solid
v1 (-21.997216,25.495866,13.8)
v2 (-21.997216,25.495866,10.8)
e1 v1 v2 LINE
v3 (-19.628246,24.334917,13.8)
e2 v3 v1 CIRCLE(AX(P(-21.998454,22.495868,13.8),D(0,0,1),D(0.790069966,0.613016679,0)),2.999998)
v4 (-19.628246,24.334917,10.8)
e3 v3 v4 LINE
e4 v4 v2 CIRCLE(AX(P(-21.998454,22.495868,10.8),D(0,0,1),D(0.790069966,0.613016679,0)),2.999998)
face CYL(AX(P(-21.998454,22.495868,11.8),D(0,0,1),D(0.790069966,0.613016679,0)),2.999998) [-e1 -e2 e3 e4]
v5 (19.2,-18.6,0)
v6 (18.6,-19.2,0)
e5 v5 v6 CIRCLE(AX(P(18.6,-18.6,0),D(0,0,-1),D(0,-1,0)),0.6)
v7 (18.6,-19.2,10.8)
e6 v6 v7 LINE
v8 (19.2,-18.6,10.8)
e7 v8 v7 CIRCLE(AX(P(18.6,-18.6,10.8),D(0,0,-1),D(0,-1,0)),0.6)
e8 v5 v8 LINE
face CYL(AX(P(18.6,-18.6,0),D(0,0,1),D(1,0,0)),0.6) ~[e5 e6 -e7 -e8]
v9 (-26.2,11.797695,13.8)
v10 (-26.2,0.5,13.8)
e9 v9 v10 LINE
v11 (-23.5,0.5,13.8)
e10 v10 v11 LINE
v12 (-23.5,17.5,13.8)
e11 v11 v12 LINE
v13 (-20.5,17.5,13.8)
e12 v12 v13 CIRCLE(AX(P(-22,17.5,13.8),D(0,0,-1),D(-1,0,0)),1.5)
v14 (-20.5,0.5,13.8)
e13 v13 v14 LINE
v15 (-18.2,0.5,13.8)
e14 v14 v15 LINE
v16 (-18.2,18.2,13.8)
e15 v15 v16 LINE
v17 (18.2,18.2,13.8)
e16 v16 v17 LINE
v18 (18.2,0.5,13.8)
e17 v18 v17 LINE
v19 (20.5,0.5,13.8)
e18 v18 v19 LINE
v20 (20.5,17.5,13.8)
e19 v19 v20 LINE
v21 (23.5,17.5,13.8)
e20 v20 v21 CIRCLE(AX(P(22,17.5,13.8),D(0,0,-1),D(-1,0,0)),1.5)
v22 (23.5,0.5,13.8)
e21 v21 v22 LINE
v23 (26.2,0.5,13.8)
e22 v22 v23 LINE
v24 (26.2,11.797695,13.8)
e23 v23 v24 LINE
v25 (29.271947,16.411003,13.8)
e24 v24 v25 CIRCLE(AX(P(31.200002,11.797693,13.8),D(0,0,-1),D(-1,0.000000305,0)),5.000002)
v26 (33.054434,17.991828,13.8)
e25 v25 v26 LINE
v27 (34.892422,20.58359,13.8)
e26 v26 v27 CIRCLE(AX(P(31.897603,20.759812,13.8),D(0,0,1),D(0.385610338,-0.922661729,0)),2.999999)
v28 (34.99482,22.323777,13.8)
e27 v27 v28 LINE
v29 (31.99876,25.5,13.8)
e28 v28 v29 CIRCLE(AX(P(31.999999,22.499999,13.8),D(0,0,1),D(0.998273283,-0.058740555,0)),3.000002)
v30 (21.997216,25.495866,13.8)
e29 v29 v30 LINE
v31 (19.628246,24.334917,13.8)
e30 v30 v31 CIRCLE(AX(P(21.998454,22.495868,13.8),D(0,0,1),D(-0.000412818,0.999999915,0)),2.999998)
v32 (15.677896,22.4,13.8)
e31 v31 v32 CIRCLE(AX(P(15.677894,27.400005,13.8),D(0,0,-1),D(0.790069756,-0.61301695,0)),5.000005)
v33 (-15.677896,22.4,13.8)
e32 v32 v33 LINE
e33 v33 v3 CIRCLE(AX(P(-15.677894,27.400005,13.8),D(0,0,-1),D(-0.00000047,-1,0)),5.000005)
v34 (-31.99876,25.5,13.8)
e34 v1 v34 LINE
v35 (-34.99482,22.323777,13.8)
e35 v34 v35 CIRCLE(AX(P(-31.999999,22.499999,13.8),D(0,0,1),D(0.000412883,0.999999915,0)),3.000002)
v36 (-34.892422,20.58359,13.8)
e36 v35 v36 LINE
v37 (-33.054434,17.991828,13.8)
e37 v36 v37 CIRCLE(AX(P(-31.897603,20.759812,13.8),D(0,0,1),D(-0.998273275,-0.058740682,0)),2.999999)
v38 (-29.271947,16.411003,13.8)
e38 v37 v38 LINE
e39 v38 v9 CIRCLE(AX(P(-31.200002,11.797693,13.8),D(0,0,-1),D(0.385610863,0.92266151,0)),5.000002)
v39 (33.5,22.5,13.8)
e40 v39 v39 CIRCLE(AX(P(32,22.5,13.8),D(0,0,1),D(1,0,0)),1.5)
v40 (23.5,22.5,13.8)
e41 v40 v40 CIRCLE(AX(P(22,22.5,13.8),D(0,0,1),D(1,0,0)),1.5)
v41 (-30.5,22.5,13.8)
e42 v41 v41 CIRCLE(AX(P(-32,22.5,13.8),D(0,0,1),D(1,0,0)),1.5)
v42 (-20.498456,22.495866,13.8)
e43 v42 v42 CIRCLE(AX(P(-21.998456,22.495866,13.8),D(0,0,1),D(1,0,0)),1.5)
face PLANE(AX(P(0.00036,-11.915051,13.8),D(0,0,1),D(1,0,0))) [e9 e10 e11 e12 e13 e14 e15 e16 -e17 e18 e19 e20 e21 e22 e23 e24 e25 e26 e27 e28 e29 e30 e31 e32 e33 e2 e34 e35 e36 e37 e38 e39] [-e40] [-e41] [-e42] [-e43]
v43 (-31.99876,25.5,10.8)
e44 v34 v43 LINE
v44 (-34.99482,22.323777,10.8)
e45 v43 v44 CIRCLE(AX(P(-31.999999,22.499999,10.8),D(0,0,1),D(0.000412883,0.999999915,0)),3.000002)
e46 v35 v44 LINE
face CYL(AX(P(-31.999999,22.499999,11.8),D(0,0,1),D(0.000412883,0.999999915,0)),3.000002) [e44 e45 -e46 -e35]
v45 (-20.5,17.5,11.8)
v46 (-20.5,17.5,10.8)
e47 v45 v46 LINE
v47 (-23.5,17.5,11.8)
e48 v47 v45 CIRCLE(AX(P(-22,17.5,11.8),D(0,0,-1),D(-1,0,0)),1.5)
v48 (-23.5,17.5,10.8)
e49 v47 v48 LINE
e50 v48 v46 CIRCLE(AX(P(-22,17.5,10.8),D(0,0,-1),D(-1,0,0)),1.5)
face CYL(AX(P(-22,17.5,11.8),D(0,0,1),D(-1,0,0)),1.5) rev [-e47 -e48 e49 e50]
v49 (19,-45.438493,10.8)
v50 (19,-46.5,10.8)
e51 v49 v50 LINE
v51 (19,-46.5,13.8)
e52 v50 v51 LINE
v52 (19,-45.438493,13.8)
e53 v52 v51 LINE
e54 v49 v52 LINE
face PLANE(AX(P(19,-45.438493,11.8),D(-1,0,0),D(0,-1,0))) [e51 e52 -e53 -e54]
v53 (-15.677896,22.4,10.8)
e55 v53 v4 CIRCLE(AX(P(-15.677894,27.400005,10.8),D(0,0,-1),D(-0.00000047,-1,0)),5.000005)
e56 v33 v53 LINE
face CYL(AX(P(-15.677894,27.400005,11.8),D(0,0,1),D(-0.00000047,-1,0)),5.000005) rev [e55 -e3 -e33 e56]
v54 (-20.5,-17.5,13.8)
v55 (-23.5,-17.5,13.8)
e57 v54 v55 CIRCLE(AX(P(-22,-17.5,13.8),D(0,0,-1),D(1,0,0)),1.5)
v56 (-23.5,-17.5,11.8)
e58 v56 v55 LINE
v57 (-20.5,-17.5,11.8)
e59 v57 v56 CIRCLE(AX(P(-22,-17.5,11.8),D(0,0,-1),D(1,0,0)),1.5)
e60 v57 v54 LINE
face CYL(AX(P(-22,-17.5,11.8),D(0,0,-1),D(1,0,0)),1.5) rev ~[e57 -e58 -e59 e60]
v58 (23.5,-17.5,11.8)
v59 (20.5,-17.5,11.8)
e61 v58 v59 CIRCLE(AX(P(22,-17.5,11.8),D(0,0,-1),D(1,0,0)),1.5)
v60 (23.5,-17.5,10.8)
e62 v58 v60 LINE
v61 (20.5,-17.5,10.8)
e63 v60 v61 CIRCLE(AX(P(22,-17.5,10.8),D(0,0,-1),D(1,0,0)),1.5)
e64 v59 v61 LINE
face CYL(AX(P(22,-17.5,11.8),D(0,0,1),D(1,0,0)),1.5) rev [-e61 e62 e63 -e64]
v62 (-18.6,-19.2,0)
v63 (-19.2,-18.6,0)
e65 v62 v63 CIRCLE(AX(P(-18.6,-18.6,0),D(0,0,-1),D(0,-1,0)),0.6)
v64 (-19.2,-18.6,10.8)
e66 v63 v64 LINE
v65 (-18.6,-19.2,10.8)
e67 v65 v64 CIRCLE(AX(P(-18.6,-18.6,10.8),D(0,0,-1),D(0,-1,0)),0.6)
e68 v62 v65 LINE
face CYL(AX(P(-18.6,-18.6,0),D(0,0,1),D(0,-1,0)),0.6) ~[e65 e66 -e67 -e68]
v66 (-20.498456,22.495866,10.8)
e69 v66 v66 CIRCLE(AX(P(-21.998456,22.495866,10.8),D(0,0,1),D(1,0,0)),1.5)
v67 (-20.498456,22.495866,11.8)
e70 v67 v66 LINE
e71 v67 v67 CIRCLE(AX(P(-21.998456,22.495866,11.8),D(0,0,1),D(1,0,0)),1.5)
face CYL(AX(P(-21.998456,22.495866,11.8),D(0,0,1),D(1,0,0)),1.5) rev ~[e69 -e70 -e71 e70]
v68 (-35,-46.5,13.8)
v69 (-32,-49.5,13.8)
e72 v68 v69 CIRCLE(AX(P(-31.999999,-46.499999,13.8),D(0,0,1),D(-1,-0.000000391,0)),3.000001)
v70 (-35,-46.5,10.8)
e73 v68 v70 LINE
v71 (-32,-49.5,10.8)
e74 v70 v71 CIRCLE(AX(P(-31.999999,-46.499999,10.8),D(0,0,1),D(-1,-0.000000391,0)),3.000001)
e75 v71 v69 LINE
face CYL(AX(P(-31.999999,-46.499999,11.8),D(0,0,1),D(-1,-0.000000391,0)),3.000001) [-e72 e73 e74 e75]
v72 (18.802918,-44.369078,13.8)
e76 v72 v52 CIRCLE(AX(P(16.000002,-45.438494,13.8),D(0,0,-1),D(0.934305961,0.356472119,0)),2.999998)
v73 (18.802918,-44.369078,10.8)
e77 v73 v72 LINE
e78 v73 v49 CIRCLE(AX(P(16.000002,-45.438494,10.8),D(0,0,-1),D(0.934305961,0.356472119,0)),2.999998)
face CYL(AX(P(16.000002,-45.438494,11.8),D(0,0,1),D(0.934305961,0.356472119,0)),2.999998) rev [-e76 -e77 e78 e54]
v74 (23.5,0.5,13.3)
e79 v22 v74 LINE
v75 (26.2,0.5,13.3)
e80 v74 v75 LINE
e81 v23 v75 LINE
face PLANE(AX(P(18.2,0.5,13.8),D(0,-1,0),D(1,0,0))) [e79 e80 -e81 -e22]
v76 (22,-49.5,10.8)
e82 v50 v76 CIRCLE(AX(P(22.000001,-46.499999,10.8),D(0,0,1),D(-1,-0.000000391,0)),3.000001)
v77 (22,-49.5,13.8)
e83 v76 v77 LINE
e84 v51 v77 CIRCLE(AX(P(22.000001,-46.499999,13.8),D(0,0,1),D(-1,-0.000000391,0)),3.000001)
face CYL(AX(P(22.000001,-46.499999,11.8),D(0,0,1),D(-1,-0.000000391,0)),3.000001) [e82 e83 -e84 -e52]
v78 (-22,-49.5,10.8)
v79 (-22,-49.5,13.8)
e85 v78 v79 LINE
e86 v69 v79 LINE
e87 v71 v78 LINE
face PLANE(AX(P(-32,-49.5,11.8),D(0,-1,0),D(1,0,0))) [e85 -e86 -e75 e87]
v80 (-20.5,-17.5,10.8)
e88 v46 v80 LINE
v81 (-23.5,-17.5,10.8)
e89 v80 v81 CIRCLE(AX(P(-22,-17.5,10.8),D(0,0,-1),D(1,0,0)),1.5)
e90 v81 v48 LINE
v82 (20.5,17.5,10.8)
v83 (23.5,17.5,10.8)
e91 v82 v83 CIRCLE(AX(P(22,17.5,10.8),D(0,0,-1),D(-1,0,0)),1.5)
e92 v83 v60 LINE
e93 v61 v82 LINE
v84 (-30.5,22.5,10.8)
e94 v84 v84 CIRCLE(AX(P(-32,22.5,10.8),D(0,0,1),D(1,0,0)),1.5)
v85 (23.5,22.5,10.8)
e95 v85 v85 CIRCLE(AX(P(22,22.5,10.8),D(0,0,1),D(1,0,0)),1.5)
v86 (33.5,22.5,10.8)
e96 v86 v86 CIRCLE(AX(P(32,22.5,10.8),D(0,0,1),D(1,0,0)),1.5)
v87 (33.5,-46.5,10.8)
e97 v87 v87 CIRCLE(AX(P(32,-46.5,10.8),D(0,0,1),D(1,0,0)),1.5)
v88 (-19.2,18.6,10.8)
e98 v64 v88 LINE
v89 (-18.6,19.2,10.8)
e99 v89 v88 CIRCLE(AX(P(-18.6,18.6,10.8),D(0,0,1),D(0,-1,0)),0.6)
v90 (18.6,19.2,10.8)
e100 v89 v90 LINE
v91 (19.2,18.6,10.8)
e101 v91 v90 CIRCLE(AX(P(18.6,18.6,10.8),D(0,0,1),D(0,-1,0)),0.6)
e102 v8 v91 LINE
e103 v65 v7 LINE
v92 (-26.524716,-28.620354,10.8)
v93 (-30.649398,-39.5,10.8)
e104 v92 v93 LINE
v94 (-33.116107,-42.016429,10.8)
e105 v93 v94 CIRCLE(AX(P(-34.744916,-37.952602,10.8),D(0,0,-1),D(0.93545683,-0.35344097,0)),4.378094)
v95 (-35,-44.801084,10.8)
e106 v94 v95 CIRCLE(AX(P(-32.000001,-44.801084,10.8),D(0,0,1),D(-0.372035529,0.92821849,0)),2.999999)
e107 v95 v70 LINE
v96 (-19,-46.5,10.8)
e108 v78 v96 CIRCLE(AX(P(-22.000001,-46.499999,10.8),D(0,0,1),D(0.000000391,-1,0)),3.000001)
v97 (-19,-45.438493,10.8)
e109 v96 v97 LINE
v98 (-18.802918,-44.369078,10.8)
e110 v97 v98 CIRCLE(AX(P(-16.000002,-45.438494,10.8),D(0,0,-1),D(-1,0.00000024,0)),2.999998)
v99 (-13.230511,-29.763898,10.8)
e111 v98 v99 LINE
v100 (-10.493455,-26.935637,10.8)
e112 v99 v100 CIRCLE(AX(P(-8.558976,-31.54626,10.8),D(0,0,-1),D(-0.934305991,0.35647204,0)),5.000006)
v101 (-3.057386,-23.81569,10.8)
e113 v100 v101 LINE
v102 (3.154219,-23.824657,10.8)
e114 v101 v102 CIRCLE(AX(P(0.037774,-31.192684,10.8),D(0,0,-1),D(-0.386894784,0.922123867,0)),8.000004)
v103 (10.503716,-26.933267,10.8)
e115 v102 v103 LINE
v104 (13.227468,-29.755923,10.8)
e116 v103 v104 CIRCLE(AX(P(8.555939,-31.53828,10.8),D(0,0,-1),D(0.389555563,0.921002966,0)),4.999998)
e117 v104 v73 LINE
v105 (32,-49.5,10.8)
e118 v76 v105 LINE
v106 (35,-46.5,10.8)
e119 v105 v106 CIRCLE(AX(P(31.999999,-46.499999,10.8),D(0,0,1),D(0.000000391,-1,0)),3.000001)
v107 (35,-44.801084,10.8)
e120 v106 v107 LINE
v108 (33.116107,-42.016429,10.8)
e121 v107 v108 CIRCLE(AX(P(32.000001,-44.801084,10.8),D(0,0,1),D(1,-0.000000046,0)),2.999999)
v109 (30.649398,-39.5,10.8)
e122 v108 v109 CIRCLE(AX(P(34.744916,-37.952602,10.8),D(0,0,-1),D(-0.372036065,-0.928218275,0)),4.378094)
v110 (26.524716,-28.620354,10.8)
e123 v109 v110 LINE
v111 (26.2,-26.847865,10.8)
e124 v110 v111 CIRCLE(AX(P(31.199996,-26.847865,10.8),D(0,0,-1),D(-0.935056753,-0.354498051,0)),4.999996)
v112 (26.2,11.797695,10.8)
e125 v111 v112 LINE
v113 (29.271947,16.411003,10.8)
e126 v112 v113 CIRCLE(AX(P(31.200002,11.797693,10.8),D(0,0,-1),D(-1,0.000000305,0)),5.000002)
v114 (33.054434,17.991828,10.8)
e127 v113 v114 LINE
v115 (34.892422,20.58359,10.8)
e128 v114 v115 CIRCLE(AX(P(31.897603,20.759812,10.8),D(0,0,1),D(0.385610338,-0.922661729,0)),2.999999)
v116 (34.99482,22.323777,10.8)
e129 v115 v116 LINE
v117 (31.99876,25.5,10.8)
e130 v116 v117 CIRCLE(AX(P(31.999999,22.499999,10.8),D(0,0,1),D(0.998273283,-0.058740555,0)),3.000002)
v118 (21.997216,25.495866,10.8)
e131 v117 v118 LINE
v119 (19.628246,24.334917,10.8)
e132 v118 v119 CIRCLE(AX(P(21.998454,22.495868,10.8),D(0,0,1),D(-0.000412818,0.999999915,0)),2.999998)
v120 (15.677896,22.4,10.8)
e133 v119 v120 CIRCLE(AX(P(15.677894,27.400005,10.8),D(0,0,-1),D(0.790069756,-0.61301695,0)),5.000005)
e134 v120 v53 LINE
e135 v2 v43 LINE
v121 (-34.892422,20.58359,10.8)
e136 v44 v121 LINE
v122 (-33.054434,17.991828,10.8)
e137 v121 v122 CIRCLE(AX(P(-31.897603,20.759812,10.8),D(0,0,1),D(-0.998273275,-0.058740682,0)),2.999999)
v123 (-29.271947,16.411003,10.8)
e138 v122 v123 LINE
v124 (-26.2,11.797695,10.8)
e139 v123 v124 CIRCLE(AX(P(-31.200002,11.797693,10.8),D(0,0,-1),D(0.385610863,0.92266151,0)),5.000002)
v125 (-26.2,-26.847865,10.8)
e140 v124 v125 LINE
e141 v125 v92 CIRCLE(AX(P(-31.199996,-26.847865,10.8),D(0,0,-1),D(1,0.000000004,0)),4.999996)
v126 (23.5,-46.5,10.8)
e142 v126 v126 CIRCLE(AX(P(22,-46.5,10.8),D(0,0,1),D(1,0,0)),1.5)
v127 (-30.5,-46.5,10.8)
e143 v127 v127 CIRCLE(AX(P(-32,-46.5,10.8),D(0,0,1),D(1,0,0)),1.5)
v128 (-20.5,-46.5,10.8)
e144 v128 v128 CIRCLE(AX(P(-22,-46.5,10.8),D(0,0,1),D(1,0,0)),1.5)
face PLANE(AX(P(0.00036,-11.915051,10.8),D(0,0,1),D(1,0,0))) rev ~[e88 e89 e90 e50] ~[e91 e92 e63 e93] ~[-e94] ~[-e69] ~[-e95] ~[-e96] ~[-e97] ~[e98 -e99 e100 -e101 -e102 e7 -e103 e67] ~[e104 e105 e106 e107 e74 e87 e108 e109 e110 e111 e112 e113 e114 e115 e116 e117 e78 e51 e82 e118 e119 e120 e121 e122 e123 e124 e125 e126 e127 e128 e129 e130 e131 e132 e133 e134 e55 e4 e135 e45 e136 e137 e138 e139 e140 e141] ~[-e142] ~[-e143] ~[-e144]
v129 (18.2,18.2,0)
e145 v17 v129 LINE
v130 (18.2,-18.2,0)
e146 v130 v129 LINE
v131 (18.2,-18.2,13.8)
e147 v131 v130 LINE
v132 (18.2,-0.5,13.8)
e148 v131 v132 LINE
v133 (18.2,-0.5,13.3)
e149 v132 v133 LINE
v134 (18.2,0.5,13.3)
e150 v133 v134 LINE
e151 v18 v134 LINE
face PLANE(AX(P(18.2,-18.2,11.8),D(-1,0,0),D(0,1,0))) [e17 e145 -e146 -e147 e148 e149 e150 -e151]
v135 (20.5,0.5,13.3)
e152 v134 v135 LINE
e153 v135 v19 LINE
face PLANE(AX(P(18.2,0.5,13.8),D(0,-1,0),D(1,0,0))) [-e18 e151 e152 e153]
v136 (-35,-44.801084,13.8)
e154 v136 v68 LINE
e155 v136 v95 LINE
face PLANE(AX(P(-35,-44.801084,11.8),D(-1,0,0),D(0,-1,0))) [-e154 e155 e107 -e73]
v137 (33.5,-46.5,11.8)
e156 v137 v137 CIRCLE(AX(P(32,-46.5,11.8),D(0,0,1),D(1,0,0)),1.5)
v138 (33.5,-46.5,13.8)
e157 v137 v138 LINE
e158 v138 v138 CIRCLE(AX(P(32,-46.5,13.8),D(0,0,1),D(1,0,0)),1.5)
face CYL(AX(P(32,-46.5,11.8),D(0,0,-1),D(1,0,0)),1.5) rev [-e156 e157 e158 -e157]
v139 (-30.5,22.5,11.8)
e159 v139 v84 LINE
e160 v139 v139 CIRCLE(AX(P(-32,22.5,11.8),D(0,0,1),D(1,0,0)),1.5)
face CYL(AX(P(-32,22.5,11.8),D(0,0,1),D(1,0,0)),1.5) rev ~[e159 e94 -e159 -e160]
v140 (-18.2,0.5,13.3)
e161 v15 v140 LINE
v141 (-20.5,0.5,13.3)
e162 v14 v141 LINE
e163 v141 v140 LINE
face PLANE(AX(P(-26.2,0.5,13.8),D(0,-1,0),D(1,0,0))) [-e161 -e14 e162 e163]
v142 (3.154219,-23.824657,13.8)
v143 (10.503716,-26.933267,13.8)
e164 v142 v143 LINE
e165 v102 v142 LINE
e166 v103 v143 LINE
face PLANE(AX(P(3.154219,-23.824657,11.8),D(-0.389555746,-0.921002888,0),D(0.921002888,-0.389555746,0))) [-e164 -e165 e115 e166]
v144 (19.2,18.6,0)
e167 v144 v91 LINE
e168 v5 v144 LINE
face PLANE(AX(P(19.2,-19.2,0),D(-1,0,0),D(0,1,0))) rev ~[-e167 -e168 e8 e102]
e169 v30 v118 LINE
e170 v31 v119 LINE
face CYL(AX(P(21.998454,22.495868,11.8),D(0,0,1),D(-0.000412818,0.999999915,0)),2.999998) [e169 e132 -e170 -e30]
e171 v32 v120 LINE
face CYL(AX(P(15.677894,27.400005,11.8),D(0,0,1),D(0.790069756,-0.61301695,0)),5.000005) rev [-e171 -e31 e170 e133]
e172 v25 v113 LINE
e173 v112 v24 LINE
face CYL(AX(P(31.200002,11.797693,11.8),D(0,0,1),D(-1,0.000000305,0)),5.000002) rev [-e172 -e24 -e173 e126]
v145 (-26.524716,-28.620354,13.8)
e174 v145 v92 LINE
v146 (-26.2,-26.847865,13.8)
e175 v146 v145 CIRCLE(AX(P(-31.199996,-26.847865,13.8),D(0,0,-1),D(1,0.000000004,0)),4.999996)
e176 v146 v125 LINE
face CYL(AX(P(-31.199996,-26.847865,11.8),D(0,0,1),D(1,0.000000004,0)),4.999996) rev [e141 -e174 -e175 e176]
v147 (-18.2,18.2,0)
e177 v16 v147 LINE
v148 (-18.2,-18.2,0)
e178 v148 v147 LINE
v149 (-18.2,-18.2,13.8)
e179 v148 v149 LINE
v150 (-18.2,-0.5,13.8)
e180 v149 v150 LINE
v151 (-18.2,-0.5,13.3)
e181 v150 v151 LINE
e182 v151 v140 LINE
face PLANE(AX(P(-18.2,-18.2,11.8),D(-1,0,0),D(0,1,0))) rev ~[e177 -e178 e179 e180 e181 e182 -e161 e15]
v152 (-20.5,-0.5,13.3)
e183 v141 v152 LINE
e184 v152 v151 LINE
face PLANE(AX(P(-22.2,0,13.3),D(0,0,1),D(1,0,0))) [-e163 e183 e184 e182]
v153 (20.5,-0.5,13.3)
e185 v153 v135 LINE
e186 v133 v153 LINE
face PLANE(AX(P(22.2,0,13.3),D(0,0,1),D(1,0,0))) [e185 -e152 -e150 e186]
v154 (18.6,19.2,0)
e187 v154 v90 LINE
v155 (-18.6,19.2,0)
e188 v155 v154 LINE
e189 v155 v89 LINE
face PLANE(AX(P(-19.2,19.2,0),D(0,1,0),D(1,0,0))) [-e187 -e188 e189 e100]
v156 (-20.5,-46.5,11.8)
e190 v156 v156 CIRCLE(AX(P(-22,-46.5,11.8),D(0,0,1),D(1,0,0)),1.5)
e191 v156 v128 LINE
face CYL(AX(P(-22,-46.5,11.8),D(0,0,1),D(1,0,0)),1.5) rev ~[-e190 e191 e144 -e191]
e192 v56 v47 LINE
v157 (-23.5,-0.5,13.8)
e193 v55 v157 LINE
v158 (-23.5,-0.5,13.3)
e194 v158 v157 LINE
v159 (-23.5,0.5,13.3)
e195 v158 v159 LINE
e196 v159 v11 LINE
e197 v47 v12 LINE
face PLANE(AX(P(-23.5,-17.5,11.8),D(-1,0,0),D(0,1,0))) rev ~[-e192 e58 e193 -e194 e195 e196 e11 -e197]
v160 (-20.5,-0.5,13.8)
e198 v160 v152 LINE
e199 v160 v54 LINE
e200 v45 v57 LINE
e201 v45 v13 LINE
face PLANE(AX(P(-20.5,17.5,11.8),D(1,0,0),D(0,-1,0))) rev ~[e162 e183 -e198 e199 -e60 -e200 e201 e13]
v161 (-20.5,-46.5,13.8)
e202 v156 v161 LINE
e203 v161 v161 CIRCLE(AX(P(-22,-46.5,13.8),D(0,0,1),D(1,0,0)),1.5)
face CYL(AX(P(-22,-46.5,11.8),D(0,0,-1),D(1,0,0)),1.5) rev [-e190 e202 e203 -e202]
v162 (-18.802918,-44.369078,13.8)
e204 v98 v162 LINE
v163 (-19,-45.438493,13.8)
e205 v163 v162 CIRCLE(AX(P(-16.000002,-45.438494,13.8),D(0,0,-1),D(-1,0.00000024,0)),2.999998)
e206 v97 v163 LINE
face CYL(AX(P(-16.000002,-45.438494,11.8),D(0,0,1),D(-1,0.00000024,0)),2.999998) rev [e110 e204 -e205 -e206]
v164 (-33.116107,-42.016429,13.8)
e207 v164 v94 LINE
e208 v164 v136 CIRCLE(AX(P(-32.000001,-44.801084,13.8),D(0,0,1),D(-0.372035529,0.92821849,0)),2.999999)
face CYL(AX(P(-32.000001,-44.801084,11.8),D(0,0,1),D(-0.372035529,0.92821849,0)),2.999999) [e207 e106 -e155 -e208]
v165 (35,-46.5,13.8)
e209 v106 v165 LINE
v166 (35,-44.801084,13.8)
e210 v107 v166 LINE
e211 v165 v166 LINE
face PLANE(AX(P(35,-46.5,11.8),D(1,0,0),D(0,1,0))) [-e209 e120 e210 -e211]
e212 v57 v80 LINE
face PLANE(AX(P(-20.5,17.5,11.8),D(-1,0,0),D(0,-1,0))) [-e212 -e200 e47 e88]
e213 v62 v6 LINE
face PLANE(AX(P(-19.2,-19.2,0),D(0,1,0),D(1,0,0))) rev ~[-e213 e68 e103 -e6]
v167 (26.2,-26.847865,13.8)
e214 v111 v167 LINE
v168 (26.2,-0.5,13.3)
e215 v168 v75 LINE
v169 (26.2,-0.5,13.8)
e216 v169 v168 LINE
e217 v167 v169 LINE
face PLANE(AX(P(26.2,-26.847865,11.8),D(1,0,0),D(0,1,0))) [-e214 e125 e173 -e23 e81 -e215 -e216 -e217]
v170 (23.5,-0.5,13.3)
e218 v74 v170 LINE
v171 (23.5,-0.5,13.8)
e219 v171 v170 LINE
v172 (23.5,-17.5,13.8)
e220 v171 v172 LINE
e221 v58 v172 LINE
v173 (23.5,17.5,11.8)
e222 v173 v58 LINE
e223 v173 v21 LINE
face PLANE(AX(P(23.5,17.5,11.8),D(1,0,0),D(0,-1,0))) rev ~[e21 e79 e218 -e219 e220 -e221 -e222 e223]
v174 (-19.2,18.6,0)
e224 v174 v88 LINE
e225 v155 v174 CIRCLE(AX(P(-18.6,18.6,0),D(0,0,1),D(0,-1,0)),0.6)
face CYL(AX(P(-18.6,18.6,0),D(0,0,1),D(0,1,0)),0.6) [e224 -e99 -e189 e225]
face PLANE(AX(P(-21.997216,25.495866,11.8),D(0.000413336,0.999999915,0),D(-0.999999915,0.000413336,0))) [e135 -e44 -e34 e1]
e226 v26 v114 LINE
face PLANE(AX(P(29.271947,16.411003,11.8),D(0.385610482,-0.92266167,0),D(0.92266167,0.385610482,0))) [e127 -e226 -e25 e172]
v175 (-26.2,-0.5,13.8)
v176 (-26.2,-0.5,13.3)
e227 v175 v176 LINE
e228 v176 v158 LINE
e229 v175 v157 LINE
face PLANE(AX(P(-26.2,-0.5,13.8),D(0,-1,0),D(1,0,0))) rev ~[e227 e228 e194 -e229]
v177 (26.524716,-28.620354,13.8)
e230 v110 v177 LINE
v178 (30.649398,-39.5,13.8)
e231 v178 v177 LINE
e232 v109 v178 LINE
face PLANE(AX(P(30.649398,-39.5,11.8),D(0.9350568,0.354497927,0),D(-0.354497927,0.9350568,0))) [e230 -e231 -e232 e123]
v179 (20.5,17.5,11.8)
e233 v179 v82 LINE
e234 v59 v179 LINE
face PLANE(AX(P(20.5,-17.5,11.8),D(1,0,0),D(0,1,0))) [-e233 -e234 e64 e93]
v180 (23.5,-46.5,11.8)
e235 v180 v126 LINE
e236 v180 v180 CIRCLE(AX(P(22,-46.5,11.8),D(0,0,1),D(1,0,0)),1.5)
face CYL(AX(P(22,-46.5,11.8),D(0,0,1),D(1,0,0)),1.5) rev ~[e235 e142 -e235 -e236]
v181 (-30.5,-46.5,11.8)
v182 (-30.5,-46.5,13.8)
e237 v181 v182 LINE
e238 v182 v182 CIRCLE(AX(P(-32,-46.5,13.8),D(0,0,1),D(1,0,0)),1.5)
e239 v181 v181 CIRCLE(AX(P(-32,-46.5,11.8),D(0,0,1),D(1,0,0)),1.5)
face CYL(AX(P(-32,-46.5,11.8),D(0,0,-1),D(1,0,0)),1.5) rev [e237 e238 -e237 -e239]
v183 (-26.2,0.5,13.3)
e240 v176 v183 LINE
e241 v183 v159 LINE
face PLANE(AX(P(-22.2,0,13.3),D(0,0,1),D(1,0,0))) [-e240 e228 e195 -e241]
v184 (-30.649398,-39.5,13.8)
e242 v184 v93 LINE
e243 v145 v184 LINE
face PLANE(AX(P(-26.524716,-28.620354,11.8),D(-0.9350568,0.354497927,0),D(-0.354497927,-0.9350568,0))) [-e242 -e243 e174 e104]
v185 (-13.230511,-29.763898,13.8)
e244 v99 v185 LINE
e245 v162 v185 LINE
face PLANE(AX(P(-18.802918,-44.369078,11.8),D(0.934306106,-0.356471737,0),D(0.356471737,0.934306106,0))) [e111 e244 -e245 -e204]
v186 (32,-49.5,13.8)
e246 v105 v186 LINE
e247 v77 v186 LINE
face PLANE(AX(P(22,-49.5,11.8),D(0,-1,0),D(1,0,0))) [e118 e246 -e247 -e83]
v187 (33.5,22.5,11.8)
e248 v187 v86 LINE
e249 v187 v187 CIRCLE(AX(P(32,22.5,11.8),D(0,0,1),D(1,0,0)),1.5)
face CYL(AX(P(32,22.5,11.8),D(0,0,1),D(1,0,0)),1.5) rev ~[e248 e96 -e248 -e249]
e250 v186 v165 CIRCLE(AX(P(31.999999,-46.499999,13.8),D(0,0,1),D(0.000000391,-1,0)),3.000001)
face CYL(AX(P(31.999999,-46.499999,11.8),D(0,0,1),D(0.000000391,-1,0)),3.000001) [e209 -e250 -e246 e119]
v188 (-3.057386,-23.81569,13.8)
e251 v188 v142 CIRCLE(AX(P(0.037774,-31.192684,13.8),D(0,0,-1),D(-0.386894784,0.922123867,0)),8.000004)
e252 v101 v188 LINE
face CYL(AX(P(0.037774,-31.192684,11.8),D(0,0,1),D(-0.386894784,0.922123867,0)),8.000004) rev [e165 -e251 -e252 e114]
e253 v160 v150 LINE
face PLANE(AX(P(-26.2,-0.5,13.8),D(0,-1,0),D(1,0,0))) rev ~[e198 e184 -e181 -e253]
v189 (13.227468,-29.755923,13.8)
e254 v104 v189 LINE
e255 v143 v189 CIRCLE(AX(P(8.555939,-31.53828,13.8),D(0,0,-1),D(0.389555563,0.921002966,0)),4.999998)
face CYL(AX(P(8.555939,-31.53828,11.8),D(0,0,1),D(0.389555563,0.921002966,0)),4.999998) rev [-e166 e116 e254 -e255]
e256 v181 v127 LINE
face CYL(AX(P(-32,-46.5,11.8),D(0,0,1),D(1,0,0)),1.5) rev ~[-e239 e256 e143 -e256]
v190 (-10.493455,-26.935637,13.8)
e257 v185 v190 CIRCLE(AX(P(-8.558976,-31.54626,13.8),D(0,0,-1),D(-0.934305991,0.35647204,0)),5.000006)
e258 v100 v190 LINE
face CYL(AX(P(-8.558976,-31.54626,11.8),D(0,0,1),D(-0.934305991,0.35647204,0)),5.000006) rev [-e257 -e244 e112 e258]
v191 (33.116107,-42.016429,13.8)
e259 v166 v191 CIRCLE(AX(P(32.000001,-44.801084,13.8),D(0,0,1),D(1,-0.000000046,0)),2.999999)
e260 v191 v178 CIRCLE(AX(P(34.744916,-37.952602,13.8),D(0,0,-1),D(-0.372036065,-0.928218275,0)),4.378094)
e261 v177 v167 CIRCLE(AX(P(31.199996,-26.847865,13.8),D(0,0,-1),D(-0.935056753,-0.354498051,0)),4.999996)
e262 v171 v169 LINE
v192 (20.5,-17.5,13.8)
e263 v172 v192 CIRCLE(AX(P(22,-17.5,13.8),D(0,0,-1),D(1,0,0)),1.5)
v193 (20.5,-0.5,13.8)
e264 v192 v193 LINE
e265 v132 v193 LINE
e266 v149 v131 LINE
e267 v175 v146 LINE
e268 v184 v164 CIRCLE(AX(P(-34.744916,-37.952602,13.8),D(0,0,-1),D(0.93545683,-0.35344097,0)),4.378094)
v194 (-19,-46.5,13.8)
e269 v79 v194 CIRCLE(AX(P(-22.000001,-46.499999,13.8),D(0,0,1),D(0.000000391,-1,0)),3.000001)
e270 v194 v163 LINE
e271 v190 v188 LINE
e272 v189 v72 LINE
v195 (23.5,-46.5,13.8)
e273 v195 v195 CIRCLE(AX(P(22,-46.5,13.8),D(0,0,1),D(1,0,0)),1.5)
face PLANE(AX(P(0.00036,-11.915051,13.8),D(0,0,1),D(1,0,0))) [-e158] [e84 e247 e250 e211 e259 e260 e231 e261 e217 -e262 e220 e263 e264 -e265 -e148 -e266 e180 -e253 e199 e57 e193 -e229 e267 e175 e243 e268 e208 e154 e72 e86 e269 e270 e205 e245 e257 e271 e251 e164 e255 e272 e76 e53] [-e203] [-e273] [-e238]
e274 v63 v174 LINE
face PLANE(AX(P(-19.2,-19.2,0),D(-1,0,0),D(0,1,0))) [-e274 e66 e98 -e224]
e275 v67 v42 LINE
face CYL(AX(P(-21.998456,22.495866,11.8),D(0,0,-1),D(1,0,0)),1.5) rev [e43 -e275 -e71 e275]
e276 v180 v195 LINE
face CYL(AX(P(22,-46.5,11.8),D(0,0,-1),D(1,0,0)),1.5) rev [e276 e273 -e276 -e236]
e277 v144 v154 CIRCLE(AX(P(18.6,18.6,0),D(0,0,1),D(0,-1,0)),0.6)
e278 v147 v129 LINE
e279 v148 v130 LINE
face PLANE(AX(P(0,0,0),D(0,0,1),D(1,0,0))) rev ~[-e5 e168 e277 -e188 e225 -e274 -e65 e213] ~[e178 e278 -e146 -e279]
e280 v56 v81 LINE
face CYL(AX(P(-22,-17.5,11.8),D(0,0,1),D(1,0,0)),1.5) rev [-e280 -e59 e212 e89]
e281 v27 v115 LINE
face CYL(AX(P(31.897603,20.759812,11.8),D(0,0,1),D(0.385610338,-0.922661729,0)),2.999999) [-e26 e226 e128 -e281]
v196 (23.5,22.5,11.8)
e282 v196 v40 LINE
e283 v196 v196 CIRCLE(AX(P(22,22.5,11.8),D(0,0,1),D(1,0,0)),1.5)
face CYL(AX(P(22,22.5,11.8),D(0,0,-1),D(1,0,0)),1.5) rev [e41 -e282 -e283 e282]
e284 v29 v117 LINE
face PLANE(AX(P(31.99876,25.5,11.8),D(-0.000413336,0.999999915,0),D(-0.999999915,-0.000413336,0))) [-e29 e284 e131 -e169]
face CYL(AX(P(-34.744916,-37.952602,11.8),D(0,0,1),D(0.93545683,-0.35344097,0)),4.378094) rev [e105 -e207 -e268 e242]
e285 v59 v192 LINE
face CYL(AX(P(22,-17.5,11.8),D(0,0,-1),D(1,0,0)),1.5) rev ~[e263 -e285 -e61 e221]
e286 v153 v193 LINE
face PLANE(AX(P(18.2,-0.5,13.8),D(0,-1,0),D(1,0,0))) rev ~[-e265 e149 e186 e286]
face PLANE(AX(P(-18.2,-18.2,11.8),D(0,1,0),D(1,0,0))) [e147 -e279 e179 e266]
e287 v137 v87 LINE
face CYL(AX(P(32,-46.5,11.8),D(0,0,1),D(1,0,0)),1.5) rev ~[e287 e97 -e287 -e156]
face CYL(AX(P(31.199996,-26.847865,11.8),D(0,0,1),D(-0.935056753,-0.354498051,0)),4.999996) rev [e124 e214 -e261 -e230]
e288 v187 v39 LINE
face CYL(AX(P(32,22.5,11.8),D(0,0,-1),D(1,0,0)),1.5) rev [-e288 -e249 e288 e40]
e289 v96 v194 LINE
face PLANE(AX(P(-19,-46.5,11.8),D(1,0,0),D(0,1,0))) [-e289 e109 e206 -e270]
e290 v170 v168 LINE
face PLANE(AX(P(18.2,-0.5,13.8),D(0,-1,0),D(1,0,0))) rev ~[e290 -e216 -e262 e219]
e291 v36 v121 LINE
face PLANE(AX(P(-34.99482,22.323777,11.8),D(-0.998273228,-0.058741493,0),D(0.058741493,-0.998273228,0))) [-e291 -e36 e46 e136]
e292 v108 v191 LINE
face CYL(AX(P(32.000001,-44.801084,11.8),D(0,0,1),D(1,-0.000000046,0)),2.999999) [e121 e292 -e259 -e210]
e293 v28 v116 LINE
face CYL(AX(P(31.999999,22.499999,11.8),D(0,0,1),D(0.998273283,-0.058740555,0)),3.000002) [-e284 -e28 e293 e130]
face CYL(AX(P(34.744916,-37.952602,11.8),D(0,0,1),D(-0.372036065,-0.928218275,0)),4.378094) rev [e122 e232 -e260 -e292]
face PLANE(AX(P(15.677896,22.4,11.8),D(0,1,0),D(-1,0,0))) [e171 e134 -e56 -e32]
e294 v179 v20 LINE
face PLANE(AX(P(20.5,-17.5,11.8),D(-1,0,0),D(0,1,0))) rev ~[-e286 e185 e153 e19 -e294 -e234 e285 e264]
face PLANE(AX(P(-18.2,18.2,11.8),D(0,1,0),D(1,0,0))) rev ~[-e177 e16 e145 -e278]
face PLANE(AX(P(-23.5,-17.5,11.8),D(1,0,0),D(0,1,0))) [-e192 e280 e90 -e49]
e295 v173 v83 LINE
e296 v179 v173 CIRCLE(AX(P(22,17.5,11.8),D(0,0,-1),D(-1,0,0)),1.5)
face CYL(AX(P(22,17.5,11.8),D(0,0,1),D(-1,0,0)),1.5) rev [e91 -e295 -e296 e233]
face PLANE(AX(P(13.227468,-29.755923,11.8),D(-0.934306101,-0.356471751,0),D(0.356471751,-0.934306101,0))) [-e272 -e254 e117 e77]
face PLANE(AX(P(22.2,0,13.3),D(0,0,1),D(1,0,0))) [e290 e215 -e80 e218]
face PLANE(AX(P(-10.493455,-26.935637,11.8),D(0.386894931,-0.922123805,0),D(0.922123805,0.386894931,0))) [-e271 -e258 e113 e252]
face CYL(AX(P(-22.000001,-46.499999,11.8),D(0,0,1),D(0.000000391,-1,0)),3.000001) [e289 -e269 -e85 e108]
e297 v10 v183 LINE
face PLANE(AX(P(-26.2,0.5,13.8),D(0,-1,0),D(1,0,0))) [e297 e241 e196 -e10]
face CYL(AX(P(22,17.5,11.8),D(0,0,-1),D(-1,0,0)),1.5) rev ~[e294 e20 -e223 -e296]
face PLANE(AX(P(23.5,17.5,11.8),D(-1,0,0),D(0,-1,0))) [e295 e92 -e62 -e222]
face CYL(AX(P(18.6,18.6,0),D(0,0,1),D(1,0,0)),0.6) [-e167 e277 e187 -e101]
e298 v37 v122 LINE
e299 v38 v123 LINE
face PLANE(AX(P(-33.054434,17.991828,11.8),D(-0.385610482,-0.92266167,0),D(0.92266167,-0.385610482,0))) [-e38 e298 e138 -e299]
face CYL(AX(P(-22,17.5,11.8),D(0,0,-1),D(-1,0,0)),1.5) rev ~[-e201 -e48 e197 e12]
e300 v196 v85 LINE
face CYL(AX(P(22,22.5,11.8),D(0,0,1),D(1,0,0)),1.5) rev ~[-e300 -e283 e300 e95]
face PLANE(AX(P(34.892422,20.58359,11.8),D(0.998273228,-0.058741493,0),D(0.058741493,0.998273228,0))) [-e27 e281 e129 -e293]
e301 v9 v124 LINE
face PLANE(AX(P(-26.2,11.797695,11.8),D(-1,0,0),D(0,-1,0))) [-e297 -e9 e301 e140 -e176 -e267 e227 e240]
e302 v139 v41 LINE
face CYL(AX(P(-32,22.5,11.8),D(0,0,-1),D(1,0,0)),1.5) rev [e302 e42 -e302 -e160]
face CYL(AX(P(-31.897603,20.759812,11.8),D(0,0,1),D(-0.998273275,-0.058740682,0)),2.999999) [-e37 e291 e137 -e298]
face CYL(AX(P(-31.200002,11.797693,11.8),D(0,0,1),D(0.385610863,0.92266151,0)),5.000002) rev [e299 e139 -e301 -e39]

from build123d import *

# Parameters (mm, degrees)
F1_W          = 38.4
F1_H          = 38.4
F1_W_2        = 36.4
F1_H_2        = 36.4
F2_DEPTH      = 11.8
F3_R          = 1.5
F3_W          = 38.4
F3_H          = 38.4
F3_W_2        = 36.4
F3_H_2        = 36.4
F4_DEPTH      = 2
F4_DEPTH_BACK = 1
F5_R          = 0.6
F6_W          = 8
F6_H          = 1
F7_DEPTH      = 0.5


with BuildPart() as f2:
    # F1 (on Top) → F2 (new body)
    with BuildSketch(Plane.XY):
        Rectangle(F1_W, F1_H)
        Rectangle(F1_W_2, F1_H_2, mode=Mode.SUBTRACT)
    extrude(amount=F2_DEPTH)

    # F3 (on face) → F4 (join, two sides)
    with BuildSketch(Plane.XY.offset(11.8)) as f4_sk:
        with BuildLine():
            ThreePointArc((-35, -46.5), (-34.12132, -48.62132), (-32, -49.5))
            Line((-32, -49.5), (-22, -49.5))
            ThreePointArc((-22, -49.5), (-19.87868, -48.62132), (-19, -46.5))
            Line((-19, -46.5), (-19, -45.438493))
            ThreePointArc((-19, -45.438493), (-18.950318, -44.894781), (-18.802918, -44.369078))
            Line((-18.802918, -44.369078), (-13.230511, -29.763898))
            ThreePointArc((-13.230511, -29.763898), (-12.151972, -28.06913), (-10.493455, -26.935637))
            Line((-10.493455, -26.935637), (-3.057386, -23.81569))
            ThreePointArc((-3.057386, -23.81569), (0.049323, -23.192689), (3.154219, -23.824657))
            Line((3.154219, -23.824657), (10.503716, -26.933267))
            ThreePointArc((10.503716, -26.933267), (12.153945, -28.066345), (13.227468, -29.755923))
            Line((13.227468, -29.755923), (18.802918, -44.369078))
            ThreePointArc((18.802918, -44.369078), (18.950318, -44.894781), (19, -45.438493))
            Line((19, -45.438493), (19, -46.5))
            ThreePointArc((19, -46.5), (19.87868, -48.62132), (22, -49.5))
            Line((22, -49.5), (32, -49.5))
            ThreePointArc((32, -49.5), (34.12132, -48.62132), (35, -46.5))
            Line((35, -46.5), (35, -44.801084))
            ThreePointArc((35, -44.801084), (34.484786, -43.120061), (33.116107, -42.016429))
            ThreePointArc((33.116107, -42.016429), (31.618403, -41.017341), (30.649398, -39.5))
            Line((30.649398, -39.5), (26.524716, -28.620354))
            ThreePointArc((26.524716, -28.620354), (26.281849, -27.748859), (26.2, -26.847865))
            Line((26.2, -26.847865), (26.2, 11.797695))
            ThreePointArc((26.2, 11.797695), (27.038254, 14.568952), (29.271947, 16.411003))
            Line((29.271947, 16.411003), (33.054434, 17.991828))
            ThreePointArc((33.054434, 17.991828), (34.344715, 19.024405), (34.892422, 20.58359))
            Line((34.892422, 20.58359), (34.99482, 22.323777))
            ThreePointArc((34.99482, 22.323777), (34.18231, 24.558524), (31.99876, 25.5))
            Line((31.99876, 25.5), (21.997216, 25.495866))
            ThreePointArc((21.997216, 25.495866), (20.678268, 25.189768), (19.628246, 24.334917))
            ThreePointArc((19.628246, 24.334917), (17.87728, 22.90971), (15.677896, 22.4))
            Line((15.677896, 22.4), (-15.677896, 22.4))
            ThreePointArc((-15.677896, 22.4), (-17.87728, 22.90971), (-19.628246, 24.334917))
            ThreePointArc((-19.628246, 24.334917), (-20.678268, 25.189768), (-21.997216, 25.495866))
            Line((-21.997216, 25.495866), (-31.99876, 25.5))
            ThreePointArc((-31.99876, 25.5), (-34.18231, 24.558524), (-34.99482, 22.323777))
            Line((-34.99482, 22.323777), (-34.892422, 20.58359))
            ThreePointArc((-34.892422, 20.58359), (-34.344715, 19.024405), (-33.054434, 17.991828))
            Line((-33.054434, 17.991828), (-29.271947, 16.411003))
            ThreePointArc((-29.271947, 16.411003), (-27.038254, 14.568952), (-26.2, 11.797695))
            Line((-26.2, 11.797695), (-26.2, -26.847865))
            ThreePointArc((-26.2, -26.847865), (-26.281849, -27.748859), (-26.524716, -28.620354))
            Line((-26.524716, -28.620354), (-30.649398, -39.5))
            ThreePointArc((-30.649398, -39.5), (-31.618403, -41.017341), (-33.116107, -42.016429))
            ThreePointArc((-33.116107, -42.016429), (-34.484786, -43.120061), (-35, -44.801084))
            Line((-35, -44.801084), (-35, -46.5))
        make_face()
        with Locations((-32, -46.5)):
            Circle(F3_R, mode=Mode.SUBTRACT)
        with Locations((-22, -46.5)):
            Circle(F3_R, mode=Mode.SUBTRACT)
        with Locations((22, -46.5)):
            Circle(F3_R, mode=Mode.SUBTRACT)
        with Locations((32, -46.5)):
            Circle(F3_R, mode=Mode.SUBTRACT)
        with BuildLine():
            ThreePointArc((-20.5, -17.5), (-22, -19), (-23.5, -17.5))
            Line((-23.5, -17.5), (-23.5, 17.5))
            ThreePointArc((-23.5, 17.5), (-22, 19), (-20.5, 17.5))
            Line((-20.5, 17.5), (-20.5, -17.5))
        make_face(mode=Mode.SUBTRACT)
        with Locations((-32, 22.5)):
            Circle(F3_R, mode=Mode.SUBTRACT)
        with Locations((-21.998456, 22.495866)):
            Circle(F3_R, mode=Mode.SUBTRACT)
        Rectangle(F3_W, F3_H, mode=Mode.SUBTRACT)
        with BuildLine():
            ThreePointArc((20.5, 17.5), (22, 19), (23.5, 17.5))
            Line((23.5, 17.5), (23.5, -17.5))
            ThreePointArc((23.5, -17.5), (22, -19), (20.5, -17.5))
            Line((20.5, -17.5), (20.5, 17.5))
        make_face(mode=Mode.SUBTRACT)
        with Locations((22, 22.5)):
            Circle(F3_R, mode=Mode.SUBTRACT)
        with Locations((32, 22.5)):
            Circle(F3_R, mode=Mode.SUBTRACT)
        Rectangle(F3_W, F3_H)
        Rectangle(F3_W_2, F3_H_2, mode=Mode.SUBTRACT)
    extrude(amount=F4_DEPTH)
    extrude(f4_sk.sketch, amount=-F4_DEPTH_BACK)

    # F5
    f5_edges = [f2.edges().sort_by_distance(p)[0] for p in [
        (-19.2, -19.2, 5.4),
        (19.2, -19.2, 5.4),
        (19.2, 19.2, 5.4),
        (-19.2, 19.2, 5.4),
    ]]
    fillet(f5_edges, radius=F5_R)

    # F6 (on face) → F7 (cut)
    with BuildSketch(Plane.XY.offset(13.8)):
        with Locations((-22.2, 0)):
            Rectangle(F6_W, F6_H)
        with Locations((22.2, 0)):
            Rectangle(F6_W, F6_H)
    extrude(amount=-F7_DEPTH, mode=Mode.SUBTRACT)


solid = f2.part
